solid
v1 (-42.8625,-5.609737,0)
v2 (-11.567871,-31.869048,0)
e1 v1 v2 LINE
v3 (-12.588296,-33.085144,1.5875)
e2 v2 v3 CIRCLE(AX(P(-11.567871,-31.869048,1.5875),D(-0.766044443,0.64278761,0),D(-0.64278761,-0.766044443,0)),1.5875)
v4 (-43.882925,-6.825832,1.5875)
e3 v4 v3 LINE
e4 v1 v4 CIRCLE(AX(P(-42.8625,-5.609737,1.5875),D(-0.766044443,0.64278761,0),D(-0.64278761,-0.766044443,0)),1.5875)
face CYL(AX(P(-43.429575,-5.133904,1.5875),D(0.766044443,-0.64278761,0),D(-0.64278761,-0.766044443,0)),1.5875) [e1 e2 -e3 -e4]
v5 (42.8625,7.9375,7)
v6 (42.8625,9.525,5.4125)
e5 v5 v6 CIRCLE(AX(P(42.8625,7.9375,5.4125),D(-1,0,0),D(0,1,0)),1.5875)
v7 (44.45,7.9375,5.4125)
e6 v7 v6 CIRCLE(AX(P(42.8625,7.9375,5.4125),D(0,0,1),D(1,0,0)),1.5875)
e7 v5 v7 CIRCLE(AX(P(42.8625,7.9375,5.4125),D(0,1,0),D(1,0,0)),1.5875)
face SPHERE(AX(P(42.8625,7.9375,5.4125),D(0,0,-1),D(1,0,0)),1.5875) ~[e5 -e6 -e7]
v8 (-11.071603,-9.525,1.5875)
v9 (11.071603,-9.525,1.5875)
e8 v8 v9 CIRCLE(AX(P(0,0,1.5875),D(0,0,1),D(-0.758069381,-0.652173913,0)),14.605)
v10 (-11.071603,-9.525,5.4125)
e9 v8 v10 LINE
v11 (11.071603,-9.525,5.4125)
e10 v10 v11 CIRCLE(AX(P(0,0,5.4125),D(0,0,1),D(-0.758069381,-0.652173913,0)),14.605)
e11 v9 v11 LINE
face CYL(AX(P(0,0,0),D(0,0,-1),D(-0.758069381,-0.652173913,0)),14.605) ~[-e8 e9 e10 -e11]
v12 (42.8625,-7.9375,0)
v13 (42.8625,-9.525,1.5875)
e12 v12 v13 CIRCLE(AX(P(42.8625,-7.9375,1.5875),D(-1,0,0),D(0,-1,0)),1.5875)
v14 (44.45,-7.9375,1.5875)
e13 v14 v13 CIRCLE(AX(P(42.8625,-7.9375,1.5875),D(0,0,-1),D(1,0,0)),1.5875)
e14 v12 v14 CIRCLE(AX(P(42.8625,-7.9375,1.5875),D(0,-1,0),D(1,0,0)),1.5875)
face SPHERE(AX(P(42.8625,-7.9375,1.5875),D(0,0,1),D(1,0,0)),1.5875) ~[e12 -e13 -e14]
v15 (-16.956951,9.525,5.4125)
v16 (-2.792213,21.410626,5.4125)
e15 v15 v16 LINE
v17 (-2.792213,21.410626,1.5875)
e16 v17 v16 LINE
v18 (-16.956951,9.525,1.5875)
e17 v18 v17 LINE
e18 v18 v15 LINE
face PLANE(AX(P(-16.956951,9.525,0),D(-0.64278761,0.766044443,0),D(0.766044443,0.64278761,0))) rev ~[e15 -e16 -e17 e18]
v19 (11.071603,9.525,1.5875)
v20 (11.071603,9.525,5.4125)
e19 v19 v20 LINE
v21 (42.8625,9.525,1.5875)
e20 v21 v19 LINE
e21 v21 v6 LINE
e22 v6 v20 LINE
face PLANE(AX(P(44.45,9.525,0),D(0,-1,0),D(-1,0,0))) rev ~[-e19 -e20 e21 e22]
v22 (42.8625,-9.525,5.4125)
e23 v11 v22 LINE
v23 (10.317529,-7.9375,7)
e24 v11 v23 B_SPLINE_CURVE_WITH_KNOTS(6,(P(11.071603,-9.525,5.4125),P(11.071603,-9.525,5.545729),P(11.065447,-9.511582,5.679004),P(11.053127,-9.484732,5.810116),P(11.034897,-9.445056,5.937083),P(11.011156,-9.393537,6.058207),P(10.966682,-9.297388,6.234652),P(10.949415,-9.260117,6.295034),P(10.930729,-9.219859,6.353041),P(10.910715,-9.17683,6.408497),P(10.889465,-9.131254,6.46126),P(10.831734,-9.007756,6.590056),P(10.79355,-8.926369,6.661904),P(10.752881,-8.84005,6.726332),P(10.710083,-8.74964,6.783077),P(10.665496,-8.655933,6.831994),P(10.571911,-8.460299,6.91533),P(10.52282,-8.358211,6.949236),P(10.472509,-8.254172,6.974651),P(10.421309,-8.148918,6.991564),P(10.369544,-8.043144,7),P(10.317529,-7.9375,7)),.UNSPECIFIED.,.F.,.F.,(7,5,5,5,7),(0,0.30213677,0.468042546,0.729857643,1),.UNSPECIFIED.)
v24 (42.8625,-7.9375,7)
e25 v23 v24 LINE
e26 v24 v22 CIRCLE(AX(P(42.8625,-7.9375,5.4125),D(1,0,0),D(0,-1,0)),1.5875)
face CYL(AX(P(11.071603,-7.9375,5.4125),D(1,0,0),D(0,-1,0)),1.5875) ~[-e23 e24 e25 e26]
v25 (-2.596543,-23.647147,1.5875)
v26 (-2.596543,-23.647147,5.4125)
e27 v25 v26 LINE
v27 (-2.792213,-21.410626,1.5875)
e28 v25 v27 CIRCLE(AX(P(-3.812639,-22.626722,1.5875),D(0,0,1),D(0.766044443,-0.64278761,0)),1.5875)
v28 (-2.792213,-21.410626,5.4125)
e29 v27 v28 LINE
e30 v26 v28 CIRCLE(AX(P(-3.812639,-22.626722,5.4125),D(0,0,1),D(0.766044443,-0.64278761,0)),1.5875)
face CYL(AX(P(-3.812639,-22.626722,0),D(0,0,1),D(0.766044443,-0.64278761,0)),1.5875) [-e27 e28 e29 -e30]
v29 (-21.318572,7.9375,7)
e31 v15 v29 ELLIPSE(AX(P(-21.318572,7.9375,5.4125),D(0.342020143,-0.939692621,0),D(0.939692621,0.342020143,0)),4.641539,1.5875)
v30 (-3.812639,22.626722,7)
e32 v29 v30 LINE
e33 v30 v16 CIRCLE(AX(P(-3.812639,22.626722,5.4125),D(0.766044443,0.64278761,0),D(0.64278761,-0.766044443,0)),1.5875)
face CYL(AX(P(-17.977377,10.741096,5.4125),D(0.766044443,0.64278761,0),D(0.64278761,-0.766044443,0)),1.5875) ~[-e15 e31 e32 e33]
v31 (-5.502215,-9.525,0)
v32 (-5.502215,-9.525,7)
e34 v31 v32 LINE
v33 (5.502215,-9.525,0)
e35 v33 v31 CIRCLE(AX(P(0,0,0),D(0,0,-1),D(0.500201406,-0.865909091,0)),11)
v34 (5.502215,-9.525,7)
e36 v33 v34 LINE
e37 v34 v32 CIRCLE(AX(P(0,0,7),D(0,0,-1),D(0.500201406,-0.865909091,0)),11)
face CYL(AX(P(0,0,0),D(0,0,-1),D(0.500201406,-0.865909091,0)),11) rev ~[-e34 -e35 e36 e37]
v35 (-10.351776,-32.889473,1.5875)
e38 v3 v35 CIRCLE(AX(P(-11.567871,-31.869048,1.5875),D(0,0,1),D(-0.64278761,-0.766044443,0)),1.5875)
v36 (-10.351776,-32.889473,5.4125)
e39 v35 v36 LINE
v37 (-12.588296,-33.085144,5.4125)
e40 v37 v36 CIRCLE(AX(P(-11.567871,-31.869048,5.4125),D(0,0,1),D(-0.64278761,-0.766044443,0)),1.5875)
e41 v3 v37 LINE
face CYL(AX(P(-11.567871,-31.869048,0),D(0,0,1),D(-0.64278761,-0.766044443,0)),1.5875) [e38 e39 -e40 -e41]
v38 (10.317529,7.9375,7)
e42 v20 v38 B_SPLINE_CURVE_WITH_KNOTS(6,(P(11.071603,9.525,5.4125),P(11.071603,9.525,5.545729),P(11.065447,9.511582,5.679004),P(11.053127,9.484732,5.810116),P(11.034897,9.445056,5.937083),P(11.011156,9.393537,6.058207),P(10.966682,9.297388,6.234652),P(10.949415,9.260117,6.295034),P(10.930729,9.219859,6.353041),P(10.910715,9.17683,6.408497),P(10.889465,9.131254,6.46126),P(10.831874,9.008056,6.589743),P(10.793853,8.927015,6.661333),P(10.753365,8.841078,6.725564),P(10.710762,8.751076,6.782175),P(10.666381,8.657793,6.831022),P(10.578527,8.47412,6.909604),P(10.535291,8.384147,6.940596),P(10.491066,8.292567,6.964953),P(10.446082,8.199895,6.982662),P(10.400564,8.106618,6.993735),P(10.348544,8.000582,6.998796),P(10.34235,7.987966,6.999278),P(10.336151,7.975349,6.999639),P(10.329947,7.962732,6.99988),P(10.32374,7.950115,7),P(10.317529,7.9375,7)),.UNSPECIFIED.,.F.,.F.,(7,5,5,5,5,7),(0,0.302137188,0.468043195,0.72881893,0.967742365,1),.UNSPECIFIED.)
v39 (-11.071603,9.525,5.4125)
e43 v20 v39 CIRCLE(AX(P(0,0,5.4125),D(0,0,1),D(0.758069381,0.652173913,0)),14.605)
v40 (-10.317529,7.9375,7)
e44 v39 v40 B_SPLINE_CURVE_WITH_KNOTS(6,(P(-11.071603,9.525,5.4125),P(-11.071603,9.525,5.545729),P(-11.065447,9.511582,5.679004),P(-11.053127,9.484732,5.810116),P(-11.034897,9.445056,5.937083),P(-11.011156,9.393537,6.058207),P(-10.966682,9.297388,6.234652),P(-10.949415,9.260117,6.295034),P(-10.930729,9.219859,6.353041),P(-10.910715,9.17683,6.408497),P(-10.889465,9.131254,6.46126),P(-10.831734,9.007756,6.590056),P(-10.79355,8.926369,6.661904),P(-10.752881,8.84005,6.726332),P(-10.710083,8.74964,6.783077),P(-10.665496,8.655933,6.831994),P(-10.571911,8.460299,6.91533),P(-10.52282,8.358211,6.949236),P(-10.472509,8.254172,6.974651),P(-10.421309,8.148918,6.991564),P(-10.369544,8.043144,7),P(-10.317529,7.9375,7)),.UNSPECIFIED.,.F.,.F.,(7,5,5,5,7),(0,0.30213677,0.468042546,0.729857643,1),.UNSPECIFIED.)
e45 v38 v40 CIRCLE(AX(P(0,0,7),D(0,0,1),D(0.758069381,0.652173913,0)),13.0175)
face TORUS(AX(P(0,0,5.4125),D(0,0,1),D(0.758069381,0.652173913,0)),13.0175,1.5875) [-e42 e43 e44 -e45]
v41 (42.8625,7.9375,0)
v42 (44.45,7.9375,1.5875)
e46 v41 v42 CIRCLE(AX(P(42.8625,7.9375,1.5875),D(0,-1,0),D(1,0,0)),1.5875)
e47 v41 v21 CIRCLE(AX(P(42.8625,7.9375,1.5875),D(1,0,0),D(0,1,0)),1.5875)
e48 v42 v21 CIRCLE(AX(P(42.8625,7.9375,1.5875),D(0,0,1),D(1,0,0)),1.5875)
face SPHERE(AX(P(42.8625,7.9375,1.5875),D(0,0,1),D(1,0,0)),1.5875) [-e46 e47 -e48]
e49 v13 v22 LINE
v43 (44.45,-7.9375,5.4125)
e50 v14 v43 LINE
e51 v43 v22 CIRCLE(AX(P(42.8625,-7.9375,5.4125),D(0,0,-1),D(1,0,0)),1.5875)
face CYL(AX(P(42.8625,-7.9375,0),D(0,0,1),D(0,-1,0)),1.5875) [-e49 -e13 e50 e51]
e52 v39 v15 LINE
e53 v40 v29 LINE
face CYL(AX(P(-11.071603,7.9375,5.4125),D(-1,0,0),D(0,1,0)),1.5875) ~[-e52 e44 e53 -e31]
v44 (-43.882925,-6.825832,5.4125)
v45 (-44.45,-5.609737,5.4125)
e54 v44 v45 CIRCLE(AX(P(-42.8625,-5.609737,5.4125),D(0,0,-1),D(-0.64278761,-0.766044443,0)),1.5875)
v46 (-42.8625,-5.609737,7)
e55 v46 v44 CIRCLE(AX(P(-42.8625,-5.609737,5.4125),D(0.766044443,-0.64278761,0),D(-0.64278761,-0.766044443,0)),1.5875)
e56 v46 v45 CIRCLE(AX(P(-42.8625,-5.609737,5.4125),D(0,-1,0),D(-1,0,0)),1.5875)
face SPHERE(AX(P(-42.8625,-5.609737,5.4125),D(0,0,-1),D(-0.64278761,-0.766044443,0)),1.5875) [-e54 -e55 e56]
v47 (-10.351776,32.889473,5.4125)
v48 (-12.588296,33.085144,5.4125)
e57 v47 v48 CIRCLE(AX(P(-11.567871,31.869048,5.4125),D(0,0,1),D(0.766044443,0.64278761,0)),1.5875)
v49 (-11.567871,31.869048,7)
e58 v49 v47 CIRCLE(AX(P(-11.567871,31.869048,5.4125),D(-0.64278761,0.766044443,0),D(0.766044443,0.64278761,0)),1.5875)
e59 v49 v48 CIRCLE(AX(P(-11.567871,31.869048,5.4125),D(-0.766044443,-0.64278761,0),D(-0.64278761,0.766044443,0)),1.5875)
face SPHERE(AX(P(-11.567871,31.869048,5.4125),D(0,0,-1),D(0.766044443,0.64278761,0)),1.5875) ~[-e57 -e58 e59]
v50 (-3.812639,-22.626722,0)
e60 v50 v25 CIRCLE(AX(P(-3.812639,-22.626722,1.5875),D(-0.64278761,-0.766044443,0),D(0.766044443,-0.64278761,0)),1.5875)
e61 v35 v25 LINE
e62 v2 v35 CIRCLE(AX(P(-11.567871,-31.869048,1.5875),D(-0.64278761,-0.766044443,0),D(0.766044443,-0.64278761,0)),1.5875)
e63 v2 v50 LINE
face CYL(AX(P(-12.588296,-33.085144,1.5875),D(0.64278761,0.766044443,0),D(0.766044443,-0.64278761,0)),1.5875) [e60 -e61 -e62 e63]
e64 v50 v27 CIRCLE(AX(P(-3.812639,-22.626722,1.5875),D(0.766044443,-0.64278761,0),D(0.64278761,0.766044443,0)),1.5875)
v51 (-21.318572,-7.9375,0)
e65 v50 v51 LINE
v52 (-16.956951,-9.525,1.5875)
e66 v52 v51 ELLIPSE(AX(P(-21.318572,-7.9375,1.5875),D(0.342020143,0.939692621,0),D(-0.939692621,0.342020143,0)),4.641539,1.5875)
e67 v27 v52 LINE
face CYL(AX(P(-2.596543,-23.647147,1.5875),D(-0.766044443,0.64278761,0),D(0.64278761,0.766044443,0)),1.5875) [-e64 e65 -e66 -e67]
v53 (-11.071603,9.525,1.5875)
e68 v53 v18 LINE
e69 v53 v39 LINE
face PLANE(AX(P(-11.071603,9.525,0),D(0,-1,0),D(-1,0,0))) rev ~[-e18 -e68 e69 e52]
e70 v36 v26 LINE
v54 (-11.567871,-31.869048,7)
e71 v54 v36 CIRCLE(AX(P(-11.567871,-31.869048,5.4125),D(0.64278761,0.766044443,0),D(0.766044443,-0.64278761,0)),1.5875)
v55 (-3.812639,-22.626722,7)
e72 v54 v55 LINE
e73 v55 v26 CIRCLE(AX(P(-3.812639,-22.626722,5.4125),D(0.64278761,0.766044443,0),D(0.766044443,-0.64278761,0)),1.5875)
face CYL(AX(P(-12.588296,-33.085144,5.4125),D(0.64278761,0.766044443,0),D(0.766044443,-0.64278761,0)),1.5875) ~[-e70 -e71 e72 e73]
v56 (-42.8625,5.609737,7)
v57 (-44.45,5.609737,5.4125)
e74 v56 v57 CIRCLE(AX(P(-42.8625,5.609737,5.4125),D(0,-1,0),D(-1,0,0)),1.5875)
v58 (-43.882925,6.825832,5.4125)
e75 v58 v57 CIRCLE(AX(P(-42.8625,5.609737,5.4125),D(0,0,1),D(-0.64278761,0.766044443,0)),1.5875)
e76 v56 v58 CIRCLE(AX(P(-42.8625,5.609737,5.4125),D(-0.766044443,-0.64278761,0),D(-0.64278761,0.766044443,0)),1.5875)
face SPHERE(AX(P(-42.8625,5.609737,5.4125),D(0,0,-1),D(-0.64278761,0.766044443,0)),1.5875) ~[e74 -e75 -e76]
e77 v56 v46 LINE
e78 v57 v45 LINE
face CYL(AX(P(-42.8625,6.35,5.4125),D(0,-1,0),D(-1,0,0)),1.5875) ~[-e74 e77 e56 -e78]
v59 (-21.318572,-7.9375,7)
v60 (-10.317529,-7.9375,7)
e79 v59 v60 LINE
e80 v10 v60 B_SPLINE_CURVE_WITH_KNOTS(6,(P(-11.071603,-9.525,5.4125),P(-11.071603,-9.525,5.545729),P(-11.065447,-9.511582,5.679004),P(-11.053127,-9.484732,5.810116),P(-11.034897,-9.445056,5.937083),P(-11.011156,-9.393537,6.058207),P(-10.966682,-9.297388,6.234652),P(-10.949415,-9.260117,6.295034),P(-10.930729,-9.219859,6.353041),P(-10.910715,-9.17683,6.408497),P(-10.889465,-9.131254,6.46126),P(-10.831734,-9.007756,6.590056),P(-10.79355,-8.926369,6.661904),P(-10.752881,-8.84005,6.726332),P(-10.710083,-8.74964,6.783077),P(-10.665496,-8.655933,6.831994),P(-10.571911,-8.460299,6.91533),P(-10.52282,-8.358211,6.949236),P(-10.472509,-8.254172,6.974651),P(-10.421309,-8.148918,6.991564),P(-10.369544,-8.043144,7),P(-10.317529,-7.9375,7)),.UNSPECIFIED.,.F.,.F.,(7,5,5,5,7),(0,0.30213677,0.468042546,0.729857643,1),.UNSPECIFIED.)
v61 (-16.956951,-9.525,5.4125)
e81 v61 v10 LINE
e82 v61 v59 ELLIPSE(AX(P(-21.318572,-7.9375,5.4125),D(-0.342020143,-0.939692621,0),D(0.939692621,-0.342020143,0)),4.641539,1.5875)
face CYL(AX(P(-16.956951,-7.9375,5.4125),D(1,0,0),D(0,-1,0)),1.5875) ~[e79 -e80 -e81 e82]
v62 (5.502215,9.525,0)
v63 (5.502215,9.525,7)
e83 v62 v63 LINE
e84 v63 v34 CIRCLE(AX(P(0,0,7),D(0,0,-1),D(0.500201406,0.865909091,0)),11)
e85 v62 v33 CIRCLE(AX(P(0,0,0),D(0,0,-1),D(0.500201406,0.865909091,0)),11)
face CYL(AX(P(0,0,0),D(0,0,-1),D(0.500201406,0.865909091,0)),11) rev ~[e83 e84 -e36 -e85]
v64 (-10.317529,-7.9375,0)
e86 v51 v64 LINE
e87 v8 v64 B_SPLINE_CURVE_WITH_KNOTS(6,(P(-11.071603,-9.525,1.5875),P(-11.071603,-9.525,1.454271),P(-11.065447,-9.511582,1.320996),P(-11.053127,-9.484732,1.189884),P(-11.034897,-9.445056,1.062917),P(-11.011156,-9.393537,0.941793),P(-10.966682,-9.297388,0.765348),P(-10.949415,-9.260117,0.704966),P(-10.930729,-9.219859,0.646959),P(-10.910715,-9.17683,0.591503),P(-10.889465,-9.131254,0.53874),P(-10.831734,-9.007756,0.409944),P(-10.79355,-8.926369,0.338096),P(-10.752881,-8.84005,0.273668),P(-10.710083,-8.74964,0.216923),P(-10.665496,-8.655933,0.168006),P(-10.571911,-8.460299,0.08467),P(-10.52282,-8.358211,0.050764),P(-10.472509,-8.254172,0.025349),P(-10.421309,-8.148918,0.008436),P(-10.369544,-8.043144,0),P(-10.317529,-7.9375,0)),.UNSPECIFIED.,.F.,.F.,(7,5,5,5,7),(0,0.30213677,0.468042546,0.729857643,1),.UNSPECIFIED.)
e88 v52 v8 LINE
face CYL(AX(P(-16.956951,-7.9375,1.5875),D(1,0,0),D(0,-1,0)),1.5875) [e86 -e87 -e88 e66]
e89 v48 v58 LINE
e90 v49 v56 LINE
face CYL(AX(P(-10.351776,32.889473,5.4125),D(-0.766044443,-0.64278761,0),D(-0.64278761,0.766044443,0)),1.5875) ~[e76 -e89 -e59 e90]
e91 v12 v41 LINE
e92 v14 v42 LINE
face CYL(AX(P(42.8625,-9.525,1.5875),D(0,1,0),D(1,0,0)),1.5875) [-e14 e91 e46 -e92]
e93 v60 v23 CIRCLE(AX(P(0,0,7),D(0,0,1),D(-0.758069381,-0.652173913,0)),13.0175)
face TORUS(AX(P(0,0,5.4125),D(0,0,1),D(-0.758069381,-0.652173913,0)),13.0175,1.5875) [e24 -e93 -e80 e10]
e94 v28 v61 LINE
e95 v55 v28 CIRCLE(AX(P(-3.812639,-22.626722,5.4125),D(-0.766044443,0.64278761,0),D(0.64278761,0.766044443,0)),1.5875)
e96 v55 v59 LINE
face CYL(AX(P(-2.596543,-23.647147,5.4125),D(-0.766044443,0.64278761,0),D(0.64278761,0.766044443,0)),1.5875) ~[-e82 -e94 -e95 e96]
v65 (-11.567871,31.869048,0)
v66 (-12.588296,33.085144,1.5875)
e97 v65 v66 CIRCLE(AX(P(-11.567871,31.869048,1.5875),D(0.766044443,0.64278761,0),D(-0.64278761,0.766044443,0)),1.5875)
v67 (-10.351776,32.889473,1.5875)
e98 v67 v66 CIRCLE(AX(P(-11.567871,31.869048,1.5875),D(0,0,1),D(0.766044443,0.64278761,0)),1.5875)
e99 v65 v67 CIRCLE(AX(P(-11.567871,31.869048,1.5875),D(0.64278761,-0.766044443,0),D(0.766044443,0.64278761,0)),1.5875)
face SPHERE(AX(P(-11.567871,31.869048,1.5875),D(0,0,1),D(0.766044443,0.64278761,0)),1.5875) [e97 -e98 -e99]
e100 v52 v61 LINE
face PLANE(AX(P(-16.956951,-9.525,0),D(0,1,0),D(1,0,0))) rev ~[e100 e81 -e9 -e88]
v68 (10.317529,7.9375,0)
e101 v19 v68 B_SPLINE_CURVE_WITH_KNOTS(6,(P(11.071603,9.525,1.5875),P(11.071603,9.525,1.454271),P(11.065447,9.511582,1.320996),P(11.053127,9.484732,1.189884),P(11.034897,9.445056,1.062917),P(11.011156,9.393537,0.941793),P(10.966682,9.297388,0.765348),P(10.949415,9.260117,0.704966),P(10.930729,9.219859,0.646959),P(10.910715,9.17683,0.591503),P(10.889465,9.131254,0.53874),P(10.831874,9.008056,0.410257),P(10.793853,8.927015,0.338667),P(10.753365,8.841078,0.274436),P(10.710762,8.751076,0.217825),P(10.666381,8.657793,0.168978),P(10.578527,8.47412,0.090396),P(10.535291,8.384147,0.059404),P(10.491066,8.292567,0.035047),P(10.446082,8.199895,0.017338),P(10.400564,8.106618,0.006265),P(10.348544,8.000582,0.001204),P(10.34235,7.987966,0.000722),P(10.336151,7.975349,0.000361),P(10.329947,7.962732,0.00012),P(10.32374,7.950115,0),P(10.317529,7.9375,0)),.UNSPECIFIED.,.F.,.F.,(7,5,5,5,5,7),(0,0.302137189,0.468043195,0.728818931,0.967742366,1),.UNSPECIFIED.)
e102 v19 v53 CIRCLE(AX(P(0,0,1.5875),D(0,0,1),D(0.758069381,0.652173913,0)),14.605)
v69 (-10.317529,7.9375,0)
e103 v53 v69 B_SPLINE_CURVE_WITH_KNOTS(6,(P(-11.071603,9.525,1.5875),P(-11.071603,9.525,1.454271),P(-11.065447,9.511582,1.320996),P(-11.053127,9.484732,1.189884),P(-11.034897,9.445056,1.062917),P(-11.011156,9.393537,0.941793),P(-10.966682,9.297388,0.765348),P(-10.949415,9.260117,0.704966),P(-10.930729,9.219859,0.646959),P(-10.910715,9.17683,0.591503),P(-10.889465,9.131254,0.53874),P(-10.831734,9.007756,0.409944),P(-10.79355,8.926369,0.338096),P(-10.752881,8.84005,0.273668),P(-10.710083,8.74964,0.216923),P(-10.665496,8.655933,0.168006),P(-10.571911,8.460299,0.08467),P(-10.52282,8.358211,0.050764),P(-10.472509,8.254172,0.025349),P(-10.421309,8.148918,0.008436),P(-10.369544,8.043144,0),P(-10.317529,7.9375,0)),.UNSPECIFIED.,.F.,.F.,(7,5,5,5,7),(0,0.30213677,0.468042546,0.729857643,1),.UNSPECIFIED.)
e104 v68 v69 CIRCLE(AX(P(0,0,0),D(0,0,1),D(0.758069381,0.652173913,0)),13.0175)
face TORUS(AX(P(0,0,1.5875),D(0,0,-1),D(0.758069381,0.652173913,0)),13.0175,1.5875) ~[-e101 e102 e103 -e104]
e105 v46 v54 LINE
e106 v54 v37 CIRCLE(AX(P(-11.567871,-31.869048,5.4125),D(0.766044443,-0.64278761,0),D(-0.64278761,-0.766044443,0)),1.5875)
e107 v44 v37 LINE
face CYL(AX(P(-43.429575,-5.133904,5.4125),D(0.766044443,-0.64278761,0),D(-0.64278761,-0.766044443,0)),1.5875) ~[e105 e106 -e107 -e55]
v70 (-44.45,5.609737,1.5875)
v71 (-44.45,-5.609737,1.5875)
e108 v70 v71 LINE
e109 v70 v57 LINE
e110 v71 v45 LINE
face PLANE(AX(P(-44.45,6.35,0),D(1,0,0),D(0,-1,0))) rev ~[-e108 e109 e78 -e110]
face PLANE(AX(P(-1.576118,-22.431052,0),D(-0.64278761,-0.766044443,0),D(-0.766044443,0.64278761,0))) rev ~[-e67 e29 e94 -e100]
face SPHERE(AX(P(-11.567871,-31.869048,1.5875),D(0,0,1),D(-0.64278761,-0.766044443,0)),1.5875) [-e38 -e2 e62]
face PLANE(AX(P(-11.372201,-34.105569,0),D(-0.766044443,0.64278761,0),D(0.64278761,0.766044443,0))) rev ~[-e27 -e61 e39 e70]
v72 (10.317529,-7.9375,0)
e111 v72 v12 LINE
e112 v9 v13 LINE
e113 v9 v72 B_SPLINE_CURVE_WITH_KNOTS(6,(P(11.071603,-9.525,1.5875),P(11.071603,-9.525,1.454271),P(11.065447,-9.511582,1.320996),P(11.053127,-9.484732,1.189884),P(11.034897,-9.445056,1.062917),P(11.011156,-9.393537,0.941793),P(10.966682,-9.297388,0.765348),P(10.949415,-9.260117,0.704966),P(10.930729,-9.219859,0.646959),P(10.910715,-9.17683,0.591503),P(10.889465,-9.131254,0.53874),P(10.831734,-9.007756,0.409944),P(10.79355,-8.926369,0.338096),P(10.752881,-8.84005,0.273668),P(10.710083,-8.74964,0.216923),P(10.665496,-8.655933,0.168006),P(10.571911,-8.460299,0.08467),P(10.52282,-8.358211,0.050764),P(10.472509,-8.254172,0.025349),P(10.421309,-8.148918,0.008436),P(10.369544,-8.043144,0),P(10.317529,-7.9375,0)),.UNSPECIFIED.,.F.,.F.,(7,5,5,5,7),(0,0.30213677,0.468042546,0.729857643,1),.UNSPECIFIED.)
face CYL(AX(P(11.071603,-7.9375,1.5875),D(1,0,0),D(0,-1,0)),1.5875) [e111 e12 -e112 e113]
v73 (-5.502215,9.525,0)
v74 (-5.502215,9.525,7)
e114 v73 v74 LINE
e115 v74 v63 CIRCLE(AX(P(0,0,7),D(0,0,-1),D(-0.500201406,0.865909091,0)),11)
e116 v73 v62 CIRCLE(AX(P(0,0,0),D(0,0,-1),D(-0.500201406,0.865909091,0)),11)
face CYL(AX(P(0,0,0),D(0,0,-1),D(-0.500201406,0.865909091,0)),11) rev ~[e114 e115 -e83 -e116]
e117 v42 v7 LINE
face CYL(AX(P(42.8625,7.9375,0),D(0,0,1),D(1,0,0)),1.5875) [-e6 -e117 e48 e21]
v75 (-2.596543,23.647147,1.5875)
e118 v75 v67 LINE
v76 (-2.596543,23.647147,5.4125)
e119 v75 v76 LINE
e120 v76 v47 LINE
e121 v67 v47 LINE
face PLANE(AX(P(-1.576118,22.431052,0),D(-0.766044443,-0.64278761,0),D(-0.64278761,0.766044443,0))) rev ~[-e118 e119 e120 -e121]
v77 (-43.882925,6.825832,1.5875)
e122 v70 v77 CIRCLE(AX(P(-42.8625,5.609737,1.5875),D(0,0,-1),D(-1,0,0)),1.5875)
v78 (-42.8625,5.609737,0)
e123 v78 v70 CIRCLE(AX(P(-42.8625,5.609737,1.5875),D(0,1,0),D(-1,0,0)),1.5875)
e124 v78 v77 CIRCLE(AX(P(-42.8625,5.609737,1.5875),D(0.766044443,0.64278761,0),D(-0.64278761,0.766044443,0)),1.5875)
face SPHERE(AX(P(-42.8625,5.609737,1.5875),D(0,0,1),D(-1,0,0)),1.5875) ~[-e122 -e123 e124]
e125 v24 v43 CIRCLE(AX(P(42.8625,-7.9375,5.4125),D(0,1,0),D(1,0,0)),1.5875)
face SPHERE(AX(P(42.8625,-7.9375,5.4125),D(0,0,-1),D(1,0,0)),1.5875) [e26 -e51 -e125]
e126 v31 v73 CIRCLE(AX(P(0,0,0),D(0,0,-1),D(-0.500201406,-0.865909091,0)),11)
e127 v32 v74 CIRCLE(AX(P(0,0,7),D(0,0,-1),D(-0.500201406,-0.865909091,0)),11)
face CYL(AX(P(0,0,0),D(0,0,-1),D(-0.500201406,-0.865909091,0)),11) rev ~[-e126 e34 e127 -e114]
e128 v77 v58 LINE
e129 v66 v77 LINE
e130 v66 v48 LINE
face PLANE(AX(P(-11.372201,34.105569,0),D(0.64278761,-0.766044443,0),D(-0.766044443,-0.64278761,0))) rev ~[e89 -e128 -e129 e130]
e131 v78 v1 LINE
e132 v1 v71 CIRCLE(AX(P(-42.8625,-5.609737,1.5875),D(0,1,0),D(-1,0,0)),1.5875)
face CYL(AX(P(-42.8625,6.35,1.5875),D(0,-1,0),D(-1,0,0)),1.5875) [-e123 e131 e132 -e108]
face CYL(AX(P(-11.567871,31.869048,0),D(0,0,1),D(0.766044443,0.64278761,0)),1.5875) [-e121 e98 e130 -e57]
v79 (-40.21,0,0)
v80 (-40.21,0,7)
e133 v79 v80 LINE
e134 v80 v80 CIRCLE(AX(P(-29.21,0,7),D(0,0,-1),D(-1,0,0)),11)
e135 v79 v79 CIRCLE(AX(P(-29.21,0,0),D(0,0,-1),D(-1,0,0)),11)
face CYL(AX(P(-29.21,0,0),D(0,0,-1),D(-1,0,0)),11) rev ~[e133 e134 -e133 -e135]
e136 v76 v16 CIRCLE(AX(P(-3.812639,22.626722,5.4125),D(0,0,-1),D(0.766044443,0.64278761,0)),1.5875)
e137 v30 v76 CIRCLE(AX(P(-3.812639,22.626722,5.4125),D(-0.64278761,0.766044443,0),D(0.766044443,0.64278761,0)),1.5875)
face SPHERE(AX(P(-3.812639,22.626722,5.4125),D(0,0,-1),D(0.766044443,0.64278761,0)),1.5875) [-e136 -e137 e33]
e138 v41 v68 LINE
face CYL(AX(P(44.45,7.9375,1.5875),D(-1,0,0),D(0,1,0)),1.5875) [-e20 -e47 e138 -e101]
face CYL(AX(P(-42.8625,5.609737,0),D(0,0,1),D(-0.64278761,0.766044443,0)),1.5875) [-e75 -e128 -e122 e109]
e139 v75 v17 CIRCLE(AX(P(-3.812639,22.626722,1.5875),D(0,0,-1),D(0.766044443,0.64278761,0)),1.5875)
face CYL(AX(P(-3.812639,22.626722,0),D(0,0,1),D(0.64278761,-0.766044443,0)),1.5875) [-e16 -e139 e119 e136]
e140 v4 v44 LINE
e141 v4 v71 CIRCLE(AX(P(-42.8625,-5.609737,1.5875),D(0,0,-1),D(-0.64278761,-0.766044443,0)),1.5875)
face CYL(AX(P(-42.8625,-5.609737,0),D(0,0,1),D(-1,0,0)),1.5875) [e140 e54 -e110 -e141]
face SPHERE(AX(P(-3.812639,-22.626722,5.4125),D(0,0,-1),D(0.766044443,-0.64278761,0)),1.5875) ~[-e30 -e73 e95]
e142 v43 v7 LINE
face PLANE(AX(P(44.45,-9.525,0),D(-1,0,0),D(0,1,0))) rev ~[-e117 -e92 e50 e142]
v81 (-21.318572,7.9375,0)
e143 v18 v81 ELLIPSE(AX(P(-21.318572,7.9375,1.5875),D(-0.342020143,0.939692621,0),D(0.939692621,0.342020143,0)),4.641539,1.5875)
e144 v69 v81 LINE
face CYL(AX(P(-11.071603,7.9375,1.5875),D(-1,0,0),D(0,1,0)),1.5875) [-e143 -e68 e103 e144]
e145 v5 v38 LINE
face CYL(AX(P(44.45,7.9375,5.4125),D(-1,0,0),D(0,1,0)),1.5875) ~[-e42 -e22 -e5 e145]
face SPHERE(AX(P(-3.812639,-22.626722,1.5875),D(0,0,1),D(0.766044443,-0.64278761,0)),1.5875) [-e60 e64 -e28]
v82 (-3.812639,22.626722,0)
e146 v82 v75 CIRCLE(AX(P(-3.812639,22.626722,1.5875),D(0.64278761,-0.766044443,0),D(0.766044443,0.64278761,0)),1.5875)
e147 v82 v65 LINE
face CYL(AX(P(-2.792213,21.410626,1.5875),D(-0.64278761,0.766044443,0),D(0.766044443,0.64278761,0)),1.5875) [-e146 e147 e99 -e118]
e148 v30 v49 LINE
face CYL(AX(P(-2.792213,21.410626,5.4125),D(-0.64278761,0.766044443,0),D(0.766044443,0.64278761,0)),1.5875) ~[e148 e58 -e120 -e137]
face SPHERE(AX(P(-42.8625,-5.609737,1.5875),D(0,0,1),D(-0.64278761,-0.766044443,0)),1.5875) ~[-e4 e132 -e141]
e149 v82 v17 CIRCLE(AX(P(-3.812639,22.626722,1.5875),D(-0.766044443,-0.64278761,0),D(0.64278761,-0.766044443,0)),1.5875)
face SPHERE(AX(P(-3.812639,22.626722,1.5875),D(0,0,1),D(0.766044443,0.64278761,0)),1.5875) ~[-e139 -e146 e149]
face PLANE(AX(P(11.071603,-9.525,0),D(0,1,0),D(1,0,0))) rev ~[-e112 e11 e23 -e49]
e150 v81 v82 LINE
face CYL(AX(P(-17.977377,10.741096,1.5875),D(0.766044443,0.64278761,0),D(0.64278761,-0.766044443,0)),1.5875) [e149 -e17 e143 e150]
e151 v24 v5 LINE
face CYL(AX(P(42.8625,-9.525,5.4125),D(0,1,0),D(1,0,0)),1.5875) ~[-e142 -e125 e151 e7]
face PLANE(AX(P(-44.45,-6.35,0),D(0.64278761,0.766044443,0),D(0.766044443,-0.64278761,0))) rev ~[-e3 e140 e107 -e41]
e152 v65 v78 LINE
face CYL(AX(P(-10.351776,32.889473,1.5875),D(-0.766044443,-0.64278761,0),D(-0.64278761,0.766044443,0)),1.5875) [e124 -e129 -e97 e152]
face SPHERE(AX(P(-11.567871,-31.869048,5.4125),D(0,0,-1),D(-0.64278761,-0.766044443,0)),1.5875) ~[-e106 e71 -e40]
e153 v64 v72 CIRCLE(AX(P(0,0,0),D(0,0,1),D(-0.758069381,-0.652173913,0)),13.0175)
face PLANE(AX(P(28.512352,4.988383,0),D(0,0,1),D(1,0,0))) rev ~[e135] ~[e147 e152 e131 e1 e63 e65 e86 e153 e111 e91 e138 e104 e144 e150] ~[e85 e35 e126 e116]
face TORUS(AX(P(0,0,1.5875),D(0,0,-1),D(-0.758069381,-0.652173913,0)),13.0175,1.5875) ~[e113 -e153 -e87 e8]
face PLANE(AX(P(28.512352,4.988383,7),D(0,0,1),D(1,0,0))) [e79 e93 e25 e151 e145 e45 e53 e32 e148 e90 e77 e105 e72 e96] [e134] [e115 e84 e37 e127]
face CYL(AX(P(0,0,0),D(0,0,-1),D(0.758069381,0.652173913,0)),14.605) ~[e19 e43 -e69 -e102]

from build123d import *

# Parameters (mm, degrees)
F1_DEPTH = 7
F2_R     = 1.5875


with BuildPart() as f1:
    # F0 (on Top) → F1 (new body)
    with BuildSketch(Plane.XY):
        with BuildLine():
            ThreePointArc((11.0716033166, 9.525), (13.6931879312, 5.0796288526), (14.605, 0))
            Line((14.605, 0), (44.45, 0))
            Line((44.45, 0), (44.45, 9.525))
            Line((44.45, 9.525), (11.0716033166, 9.525))
        make_face()
        with BuildLine():
            Line((44.45, 0), (14.605, 0))
            ThreePointArc((14.605, 0), (13.6931879312, -5.0796288526), (11.0716033166, -9.525))
            Line((11.0716033166, -9.525), (44.45, -9.525))
            Line((44.45, -9.525), (44.45, 0))
        make_face()
        with BuildLine():
            ThreePointArc((-5.5022154629, 9.525), (0, 11), (5.5022154629, 9.525))
            Line((5.5022154629, 9.525), (11.0716033166, 9.525))
            ThreePointArc((11.0716033166, 9.525), (0, 14.605), (-11.0716033166, 9.525))
            Line((-11.0716033166, 9.525), (-5.5022154629, 9.525))
        make_face()
        with BuildLine():
            Line((11.0716033166, -9.525), (5.5022154629, -9.525))
            ThreePointArc((5.5022154629, -9.525), (0, -11), (-5.5022154629, -9.525))
            Line((-5.5022154629, -9.525), (-11.0716033166, -9.525))
            ThreePointArc((-11.0716033166, -9.525), (0, -14.605), (11.0716033166, -9.525))
        make_face()
        with BuildLine():
            Line((-16.9569512222, -9.525), (-11.0716033166, -9.525))
            ThreePointArc((-11.0716033166, -9.525), (-13.6931879312, -5.0796288526), (-14.605, 0))
            Line((-14.605, 0), (-18.21, 0))
            ThreePointArc((-18.21, 0), (-29.21, -11), (-40.21, 0))
            Line((-40.21, 0), (-44.45, 0))
            Line((-44.45, 0), (-44.45, -6.35))
            Line((-44.45, -6.35), (-11.3722009461, -34.1055689863))
            Line((-11.3722009461, -34.1055689863), (-1.5761177745, -22.4310516731))
            Line((-1.5761177745, -22.4310516731), (-16.9569512222, -9.525))
        make_face()
        with BuildLine():
            ThreePointArc((5.5022154629, 9.525), (9.5269189692, 5.498892157), (11, 0))
            Line((11, 0), (14.605, 0))
            ThreePointArc((14.605, 0), (13.6931879312, 5.0796288526), (11.0716033166, 9.525))
            Line((11.0716033166, 9.525), (5.5022154629, 9.525))
        make_face()
        with BuildLine():
            ThreePointArc((-11, 0), (-9.5269189692, 5.498892157), (-5.5022154629, 9.525))
            Line((-5.5022154629, 9.525), (-11.0716033166, 9.525))
            ThreePointArc((-11.0716033166, 9.525), (-13.6931879312, 5.0796288526), (-14.605, 0))
            Line((-14.605, 0), (-11, 0))
        make_face()
        with BuildLine():
            Line((-11.0716033166, -9.525), (-5.5022154629, -9.525))
            ThreePointArc((-5.5022154629, -9.525), (-9.5269189692, -5.498892157), (-11, 0))
            Line((-11, 0), (-14.605, 0))
            ThreePointArc((-14.605, 0), (-13.6931879312, -5.0796288526), (-11.0716033166, -9.525))
        make_face()
        with BuildLine():
            Line((14.605, 0), (11, 0))
            ThreePointArc((11, 0), (9.5269189692, -5.498892157), (5.5022154629, -9.525))
            Line((5.5022154629, -9.525), (11.0716033166, -9.525))
            ThreePointArc((11.0716033166, -9.525), (13.6931879312, -5.0796288526), (14.605, 0))
        make_face()
        with BuildLine():
            ThreePointArc((-14.605, 0), (-13.6931879312, 5.0796288526), (-11.0716033166, 9.525))
            Line((-11.0716033166, 9.525), (-16.9569512222, 9.525))
            Line((-16.9569512222, 9.525), (-1.5761177745, 22.4310516731))
            Line((-1.5761177745, 22.4310516731), (-11.3722009461, 34.1055689863))
            Line((-11.3722009461, 34.1055689863), (-44.45, 6.35))
            Line((-44.45, 6.35), (-44.45, 0))
            Line((-44.45, 0), (-40.21, 0))
            ThreePointArc((-40.21, 0), (-29.21, 11), (-18.21, 0))
            Line((-18.21, 0), (-14.605, 0))
        make_face()
    extrude(amount=F1_DEPTH)

    # F2
    f2_edges = [f1.edges().sort_by_distance(p)[0] for p in [
        (-44.45, -6.35, 3.5),
        (-11.372201, -34.105569, 3.5),
        (-27.9111, -20.227784, 0),
        (-27.9111, -20.227784, 7),
        (-1.576118, -22.431052, 3.5),
        (-6.474159, -28.26831, 0),
        (-6.474159, -28.26831, 7),
        (44.45, -9.525, 3.5),
        (44.45, 9.525, 3.5),
        (44.45, 0, 0),
        (44.45, 0, 7),
        (-1.576118, 22.431052, 3.5),
        (-11.372201, 34.105569, 3.5),
        (-6.474159, 28.26831, 0),
        (-6.474159, 28.26831, 7),
        (-44.45, 0, 7),
        (-44.45, 6.35, 3.5),
        (-44.45, 0, 0),
        (-27.9111, 20.227784, 0),
        (-27.9111, 20.227784, 7),
        (-9.266534, 15.978026, 7),
        (-14.014277, 9.525, 7),
        (-9.266534, 15.978026, 0),
        (-14.014277, 9.525, 0),
        (0, 14.605, 0),
        (0, 14.605, 7),
        (27.760802, 9.525, 7),
        (27.760802, 9.525, 0),
        (27.760802, -9.525, 7),
        (0, -14.605, 7),
        (-14.014277, -9.525, 7),
        (-9.266534, -15.978026, 7),
        (-9.266534, -15.978026, 0),
        (27.760802, -9.525, 0),
        (0, -14.605, 0),
        (-14.014277, -9.525, 0),
    ]]
    fillet(f2_edges, radius=F2_R)


solid = f1.part
